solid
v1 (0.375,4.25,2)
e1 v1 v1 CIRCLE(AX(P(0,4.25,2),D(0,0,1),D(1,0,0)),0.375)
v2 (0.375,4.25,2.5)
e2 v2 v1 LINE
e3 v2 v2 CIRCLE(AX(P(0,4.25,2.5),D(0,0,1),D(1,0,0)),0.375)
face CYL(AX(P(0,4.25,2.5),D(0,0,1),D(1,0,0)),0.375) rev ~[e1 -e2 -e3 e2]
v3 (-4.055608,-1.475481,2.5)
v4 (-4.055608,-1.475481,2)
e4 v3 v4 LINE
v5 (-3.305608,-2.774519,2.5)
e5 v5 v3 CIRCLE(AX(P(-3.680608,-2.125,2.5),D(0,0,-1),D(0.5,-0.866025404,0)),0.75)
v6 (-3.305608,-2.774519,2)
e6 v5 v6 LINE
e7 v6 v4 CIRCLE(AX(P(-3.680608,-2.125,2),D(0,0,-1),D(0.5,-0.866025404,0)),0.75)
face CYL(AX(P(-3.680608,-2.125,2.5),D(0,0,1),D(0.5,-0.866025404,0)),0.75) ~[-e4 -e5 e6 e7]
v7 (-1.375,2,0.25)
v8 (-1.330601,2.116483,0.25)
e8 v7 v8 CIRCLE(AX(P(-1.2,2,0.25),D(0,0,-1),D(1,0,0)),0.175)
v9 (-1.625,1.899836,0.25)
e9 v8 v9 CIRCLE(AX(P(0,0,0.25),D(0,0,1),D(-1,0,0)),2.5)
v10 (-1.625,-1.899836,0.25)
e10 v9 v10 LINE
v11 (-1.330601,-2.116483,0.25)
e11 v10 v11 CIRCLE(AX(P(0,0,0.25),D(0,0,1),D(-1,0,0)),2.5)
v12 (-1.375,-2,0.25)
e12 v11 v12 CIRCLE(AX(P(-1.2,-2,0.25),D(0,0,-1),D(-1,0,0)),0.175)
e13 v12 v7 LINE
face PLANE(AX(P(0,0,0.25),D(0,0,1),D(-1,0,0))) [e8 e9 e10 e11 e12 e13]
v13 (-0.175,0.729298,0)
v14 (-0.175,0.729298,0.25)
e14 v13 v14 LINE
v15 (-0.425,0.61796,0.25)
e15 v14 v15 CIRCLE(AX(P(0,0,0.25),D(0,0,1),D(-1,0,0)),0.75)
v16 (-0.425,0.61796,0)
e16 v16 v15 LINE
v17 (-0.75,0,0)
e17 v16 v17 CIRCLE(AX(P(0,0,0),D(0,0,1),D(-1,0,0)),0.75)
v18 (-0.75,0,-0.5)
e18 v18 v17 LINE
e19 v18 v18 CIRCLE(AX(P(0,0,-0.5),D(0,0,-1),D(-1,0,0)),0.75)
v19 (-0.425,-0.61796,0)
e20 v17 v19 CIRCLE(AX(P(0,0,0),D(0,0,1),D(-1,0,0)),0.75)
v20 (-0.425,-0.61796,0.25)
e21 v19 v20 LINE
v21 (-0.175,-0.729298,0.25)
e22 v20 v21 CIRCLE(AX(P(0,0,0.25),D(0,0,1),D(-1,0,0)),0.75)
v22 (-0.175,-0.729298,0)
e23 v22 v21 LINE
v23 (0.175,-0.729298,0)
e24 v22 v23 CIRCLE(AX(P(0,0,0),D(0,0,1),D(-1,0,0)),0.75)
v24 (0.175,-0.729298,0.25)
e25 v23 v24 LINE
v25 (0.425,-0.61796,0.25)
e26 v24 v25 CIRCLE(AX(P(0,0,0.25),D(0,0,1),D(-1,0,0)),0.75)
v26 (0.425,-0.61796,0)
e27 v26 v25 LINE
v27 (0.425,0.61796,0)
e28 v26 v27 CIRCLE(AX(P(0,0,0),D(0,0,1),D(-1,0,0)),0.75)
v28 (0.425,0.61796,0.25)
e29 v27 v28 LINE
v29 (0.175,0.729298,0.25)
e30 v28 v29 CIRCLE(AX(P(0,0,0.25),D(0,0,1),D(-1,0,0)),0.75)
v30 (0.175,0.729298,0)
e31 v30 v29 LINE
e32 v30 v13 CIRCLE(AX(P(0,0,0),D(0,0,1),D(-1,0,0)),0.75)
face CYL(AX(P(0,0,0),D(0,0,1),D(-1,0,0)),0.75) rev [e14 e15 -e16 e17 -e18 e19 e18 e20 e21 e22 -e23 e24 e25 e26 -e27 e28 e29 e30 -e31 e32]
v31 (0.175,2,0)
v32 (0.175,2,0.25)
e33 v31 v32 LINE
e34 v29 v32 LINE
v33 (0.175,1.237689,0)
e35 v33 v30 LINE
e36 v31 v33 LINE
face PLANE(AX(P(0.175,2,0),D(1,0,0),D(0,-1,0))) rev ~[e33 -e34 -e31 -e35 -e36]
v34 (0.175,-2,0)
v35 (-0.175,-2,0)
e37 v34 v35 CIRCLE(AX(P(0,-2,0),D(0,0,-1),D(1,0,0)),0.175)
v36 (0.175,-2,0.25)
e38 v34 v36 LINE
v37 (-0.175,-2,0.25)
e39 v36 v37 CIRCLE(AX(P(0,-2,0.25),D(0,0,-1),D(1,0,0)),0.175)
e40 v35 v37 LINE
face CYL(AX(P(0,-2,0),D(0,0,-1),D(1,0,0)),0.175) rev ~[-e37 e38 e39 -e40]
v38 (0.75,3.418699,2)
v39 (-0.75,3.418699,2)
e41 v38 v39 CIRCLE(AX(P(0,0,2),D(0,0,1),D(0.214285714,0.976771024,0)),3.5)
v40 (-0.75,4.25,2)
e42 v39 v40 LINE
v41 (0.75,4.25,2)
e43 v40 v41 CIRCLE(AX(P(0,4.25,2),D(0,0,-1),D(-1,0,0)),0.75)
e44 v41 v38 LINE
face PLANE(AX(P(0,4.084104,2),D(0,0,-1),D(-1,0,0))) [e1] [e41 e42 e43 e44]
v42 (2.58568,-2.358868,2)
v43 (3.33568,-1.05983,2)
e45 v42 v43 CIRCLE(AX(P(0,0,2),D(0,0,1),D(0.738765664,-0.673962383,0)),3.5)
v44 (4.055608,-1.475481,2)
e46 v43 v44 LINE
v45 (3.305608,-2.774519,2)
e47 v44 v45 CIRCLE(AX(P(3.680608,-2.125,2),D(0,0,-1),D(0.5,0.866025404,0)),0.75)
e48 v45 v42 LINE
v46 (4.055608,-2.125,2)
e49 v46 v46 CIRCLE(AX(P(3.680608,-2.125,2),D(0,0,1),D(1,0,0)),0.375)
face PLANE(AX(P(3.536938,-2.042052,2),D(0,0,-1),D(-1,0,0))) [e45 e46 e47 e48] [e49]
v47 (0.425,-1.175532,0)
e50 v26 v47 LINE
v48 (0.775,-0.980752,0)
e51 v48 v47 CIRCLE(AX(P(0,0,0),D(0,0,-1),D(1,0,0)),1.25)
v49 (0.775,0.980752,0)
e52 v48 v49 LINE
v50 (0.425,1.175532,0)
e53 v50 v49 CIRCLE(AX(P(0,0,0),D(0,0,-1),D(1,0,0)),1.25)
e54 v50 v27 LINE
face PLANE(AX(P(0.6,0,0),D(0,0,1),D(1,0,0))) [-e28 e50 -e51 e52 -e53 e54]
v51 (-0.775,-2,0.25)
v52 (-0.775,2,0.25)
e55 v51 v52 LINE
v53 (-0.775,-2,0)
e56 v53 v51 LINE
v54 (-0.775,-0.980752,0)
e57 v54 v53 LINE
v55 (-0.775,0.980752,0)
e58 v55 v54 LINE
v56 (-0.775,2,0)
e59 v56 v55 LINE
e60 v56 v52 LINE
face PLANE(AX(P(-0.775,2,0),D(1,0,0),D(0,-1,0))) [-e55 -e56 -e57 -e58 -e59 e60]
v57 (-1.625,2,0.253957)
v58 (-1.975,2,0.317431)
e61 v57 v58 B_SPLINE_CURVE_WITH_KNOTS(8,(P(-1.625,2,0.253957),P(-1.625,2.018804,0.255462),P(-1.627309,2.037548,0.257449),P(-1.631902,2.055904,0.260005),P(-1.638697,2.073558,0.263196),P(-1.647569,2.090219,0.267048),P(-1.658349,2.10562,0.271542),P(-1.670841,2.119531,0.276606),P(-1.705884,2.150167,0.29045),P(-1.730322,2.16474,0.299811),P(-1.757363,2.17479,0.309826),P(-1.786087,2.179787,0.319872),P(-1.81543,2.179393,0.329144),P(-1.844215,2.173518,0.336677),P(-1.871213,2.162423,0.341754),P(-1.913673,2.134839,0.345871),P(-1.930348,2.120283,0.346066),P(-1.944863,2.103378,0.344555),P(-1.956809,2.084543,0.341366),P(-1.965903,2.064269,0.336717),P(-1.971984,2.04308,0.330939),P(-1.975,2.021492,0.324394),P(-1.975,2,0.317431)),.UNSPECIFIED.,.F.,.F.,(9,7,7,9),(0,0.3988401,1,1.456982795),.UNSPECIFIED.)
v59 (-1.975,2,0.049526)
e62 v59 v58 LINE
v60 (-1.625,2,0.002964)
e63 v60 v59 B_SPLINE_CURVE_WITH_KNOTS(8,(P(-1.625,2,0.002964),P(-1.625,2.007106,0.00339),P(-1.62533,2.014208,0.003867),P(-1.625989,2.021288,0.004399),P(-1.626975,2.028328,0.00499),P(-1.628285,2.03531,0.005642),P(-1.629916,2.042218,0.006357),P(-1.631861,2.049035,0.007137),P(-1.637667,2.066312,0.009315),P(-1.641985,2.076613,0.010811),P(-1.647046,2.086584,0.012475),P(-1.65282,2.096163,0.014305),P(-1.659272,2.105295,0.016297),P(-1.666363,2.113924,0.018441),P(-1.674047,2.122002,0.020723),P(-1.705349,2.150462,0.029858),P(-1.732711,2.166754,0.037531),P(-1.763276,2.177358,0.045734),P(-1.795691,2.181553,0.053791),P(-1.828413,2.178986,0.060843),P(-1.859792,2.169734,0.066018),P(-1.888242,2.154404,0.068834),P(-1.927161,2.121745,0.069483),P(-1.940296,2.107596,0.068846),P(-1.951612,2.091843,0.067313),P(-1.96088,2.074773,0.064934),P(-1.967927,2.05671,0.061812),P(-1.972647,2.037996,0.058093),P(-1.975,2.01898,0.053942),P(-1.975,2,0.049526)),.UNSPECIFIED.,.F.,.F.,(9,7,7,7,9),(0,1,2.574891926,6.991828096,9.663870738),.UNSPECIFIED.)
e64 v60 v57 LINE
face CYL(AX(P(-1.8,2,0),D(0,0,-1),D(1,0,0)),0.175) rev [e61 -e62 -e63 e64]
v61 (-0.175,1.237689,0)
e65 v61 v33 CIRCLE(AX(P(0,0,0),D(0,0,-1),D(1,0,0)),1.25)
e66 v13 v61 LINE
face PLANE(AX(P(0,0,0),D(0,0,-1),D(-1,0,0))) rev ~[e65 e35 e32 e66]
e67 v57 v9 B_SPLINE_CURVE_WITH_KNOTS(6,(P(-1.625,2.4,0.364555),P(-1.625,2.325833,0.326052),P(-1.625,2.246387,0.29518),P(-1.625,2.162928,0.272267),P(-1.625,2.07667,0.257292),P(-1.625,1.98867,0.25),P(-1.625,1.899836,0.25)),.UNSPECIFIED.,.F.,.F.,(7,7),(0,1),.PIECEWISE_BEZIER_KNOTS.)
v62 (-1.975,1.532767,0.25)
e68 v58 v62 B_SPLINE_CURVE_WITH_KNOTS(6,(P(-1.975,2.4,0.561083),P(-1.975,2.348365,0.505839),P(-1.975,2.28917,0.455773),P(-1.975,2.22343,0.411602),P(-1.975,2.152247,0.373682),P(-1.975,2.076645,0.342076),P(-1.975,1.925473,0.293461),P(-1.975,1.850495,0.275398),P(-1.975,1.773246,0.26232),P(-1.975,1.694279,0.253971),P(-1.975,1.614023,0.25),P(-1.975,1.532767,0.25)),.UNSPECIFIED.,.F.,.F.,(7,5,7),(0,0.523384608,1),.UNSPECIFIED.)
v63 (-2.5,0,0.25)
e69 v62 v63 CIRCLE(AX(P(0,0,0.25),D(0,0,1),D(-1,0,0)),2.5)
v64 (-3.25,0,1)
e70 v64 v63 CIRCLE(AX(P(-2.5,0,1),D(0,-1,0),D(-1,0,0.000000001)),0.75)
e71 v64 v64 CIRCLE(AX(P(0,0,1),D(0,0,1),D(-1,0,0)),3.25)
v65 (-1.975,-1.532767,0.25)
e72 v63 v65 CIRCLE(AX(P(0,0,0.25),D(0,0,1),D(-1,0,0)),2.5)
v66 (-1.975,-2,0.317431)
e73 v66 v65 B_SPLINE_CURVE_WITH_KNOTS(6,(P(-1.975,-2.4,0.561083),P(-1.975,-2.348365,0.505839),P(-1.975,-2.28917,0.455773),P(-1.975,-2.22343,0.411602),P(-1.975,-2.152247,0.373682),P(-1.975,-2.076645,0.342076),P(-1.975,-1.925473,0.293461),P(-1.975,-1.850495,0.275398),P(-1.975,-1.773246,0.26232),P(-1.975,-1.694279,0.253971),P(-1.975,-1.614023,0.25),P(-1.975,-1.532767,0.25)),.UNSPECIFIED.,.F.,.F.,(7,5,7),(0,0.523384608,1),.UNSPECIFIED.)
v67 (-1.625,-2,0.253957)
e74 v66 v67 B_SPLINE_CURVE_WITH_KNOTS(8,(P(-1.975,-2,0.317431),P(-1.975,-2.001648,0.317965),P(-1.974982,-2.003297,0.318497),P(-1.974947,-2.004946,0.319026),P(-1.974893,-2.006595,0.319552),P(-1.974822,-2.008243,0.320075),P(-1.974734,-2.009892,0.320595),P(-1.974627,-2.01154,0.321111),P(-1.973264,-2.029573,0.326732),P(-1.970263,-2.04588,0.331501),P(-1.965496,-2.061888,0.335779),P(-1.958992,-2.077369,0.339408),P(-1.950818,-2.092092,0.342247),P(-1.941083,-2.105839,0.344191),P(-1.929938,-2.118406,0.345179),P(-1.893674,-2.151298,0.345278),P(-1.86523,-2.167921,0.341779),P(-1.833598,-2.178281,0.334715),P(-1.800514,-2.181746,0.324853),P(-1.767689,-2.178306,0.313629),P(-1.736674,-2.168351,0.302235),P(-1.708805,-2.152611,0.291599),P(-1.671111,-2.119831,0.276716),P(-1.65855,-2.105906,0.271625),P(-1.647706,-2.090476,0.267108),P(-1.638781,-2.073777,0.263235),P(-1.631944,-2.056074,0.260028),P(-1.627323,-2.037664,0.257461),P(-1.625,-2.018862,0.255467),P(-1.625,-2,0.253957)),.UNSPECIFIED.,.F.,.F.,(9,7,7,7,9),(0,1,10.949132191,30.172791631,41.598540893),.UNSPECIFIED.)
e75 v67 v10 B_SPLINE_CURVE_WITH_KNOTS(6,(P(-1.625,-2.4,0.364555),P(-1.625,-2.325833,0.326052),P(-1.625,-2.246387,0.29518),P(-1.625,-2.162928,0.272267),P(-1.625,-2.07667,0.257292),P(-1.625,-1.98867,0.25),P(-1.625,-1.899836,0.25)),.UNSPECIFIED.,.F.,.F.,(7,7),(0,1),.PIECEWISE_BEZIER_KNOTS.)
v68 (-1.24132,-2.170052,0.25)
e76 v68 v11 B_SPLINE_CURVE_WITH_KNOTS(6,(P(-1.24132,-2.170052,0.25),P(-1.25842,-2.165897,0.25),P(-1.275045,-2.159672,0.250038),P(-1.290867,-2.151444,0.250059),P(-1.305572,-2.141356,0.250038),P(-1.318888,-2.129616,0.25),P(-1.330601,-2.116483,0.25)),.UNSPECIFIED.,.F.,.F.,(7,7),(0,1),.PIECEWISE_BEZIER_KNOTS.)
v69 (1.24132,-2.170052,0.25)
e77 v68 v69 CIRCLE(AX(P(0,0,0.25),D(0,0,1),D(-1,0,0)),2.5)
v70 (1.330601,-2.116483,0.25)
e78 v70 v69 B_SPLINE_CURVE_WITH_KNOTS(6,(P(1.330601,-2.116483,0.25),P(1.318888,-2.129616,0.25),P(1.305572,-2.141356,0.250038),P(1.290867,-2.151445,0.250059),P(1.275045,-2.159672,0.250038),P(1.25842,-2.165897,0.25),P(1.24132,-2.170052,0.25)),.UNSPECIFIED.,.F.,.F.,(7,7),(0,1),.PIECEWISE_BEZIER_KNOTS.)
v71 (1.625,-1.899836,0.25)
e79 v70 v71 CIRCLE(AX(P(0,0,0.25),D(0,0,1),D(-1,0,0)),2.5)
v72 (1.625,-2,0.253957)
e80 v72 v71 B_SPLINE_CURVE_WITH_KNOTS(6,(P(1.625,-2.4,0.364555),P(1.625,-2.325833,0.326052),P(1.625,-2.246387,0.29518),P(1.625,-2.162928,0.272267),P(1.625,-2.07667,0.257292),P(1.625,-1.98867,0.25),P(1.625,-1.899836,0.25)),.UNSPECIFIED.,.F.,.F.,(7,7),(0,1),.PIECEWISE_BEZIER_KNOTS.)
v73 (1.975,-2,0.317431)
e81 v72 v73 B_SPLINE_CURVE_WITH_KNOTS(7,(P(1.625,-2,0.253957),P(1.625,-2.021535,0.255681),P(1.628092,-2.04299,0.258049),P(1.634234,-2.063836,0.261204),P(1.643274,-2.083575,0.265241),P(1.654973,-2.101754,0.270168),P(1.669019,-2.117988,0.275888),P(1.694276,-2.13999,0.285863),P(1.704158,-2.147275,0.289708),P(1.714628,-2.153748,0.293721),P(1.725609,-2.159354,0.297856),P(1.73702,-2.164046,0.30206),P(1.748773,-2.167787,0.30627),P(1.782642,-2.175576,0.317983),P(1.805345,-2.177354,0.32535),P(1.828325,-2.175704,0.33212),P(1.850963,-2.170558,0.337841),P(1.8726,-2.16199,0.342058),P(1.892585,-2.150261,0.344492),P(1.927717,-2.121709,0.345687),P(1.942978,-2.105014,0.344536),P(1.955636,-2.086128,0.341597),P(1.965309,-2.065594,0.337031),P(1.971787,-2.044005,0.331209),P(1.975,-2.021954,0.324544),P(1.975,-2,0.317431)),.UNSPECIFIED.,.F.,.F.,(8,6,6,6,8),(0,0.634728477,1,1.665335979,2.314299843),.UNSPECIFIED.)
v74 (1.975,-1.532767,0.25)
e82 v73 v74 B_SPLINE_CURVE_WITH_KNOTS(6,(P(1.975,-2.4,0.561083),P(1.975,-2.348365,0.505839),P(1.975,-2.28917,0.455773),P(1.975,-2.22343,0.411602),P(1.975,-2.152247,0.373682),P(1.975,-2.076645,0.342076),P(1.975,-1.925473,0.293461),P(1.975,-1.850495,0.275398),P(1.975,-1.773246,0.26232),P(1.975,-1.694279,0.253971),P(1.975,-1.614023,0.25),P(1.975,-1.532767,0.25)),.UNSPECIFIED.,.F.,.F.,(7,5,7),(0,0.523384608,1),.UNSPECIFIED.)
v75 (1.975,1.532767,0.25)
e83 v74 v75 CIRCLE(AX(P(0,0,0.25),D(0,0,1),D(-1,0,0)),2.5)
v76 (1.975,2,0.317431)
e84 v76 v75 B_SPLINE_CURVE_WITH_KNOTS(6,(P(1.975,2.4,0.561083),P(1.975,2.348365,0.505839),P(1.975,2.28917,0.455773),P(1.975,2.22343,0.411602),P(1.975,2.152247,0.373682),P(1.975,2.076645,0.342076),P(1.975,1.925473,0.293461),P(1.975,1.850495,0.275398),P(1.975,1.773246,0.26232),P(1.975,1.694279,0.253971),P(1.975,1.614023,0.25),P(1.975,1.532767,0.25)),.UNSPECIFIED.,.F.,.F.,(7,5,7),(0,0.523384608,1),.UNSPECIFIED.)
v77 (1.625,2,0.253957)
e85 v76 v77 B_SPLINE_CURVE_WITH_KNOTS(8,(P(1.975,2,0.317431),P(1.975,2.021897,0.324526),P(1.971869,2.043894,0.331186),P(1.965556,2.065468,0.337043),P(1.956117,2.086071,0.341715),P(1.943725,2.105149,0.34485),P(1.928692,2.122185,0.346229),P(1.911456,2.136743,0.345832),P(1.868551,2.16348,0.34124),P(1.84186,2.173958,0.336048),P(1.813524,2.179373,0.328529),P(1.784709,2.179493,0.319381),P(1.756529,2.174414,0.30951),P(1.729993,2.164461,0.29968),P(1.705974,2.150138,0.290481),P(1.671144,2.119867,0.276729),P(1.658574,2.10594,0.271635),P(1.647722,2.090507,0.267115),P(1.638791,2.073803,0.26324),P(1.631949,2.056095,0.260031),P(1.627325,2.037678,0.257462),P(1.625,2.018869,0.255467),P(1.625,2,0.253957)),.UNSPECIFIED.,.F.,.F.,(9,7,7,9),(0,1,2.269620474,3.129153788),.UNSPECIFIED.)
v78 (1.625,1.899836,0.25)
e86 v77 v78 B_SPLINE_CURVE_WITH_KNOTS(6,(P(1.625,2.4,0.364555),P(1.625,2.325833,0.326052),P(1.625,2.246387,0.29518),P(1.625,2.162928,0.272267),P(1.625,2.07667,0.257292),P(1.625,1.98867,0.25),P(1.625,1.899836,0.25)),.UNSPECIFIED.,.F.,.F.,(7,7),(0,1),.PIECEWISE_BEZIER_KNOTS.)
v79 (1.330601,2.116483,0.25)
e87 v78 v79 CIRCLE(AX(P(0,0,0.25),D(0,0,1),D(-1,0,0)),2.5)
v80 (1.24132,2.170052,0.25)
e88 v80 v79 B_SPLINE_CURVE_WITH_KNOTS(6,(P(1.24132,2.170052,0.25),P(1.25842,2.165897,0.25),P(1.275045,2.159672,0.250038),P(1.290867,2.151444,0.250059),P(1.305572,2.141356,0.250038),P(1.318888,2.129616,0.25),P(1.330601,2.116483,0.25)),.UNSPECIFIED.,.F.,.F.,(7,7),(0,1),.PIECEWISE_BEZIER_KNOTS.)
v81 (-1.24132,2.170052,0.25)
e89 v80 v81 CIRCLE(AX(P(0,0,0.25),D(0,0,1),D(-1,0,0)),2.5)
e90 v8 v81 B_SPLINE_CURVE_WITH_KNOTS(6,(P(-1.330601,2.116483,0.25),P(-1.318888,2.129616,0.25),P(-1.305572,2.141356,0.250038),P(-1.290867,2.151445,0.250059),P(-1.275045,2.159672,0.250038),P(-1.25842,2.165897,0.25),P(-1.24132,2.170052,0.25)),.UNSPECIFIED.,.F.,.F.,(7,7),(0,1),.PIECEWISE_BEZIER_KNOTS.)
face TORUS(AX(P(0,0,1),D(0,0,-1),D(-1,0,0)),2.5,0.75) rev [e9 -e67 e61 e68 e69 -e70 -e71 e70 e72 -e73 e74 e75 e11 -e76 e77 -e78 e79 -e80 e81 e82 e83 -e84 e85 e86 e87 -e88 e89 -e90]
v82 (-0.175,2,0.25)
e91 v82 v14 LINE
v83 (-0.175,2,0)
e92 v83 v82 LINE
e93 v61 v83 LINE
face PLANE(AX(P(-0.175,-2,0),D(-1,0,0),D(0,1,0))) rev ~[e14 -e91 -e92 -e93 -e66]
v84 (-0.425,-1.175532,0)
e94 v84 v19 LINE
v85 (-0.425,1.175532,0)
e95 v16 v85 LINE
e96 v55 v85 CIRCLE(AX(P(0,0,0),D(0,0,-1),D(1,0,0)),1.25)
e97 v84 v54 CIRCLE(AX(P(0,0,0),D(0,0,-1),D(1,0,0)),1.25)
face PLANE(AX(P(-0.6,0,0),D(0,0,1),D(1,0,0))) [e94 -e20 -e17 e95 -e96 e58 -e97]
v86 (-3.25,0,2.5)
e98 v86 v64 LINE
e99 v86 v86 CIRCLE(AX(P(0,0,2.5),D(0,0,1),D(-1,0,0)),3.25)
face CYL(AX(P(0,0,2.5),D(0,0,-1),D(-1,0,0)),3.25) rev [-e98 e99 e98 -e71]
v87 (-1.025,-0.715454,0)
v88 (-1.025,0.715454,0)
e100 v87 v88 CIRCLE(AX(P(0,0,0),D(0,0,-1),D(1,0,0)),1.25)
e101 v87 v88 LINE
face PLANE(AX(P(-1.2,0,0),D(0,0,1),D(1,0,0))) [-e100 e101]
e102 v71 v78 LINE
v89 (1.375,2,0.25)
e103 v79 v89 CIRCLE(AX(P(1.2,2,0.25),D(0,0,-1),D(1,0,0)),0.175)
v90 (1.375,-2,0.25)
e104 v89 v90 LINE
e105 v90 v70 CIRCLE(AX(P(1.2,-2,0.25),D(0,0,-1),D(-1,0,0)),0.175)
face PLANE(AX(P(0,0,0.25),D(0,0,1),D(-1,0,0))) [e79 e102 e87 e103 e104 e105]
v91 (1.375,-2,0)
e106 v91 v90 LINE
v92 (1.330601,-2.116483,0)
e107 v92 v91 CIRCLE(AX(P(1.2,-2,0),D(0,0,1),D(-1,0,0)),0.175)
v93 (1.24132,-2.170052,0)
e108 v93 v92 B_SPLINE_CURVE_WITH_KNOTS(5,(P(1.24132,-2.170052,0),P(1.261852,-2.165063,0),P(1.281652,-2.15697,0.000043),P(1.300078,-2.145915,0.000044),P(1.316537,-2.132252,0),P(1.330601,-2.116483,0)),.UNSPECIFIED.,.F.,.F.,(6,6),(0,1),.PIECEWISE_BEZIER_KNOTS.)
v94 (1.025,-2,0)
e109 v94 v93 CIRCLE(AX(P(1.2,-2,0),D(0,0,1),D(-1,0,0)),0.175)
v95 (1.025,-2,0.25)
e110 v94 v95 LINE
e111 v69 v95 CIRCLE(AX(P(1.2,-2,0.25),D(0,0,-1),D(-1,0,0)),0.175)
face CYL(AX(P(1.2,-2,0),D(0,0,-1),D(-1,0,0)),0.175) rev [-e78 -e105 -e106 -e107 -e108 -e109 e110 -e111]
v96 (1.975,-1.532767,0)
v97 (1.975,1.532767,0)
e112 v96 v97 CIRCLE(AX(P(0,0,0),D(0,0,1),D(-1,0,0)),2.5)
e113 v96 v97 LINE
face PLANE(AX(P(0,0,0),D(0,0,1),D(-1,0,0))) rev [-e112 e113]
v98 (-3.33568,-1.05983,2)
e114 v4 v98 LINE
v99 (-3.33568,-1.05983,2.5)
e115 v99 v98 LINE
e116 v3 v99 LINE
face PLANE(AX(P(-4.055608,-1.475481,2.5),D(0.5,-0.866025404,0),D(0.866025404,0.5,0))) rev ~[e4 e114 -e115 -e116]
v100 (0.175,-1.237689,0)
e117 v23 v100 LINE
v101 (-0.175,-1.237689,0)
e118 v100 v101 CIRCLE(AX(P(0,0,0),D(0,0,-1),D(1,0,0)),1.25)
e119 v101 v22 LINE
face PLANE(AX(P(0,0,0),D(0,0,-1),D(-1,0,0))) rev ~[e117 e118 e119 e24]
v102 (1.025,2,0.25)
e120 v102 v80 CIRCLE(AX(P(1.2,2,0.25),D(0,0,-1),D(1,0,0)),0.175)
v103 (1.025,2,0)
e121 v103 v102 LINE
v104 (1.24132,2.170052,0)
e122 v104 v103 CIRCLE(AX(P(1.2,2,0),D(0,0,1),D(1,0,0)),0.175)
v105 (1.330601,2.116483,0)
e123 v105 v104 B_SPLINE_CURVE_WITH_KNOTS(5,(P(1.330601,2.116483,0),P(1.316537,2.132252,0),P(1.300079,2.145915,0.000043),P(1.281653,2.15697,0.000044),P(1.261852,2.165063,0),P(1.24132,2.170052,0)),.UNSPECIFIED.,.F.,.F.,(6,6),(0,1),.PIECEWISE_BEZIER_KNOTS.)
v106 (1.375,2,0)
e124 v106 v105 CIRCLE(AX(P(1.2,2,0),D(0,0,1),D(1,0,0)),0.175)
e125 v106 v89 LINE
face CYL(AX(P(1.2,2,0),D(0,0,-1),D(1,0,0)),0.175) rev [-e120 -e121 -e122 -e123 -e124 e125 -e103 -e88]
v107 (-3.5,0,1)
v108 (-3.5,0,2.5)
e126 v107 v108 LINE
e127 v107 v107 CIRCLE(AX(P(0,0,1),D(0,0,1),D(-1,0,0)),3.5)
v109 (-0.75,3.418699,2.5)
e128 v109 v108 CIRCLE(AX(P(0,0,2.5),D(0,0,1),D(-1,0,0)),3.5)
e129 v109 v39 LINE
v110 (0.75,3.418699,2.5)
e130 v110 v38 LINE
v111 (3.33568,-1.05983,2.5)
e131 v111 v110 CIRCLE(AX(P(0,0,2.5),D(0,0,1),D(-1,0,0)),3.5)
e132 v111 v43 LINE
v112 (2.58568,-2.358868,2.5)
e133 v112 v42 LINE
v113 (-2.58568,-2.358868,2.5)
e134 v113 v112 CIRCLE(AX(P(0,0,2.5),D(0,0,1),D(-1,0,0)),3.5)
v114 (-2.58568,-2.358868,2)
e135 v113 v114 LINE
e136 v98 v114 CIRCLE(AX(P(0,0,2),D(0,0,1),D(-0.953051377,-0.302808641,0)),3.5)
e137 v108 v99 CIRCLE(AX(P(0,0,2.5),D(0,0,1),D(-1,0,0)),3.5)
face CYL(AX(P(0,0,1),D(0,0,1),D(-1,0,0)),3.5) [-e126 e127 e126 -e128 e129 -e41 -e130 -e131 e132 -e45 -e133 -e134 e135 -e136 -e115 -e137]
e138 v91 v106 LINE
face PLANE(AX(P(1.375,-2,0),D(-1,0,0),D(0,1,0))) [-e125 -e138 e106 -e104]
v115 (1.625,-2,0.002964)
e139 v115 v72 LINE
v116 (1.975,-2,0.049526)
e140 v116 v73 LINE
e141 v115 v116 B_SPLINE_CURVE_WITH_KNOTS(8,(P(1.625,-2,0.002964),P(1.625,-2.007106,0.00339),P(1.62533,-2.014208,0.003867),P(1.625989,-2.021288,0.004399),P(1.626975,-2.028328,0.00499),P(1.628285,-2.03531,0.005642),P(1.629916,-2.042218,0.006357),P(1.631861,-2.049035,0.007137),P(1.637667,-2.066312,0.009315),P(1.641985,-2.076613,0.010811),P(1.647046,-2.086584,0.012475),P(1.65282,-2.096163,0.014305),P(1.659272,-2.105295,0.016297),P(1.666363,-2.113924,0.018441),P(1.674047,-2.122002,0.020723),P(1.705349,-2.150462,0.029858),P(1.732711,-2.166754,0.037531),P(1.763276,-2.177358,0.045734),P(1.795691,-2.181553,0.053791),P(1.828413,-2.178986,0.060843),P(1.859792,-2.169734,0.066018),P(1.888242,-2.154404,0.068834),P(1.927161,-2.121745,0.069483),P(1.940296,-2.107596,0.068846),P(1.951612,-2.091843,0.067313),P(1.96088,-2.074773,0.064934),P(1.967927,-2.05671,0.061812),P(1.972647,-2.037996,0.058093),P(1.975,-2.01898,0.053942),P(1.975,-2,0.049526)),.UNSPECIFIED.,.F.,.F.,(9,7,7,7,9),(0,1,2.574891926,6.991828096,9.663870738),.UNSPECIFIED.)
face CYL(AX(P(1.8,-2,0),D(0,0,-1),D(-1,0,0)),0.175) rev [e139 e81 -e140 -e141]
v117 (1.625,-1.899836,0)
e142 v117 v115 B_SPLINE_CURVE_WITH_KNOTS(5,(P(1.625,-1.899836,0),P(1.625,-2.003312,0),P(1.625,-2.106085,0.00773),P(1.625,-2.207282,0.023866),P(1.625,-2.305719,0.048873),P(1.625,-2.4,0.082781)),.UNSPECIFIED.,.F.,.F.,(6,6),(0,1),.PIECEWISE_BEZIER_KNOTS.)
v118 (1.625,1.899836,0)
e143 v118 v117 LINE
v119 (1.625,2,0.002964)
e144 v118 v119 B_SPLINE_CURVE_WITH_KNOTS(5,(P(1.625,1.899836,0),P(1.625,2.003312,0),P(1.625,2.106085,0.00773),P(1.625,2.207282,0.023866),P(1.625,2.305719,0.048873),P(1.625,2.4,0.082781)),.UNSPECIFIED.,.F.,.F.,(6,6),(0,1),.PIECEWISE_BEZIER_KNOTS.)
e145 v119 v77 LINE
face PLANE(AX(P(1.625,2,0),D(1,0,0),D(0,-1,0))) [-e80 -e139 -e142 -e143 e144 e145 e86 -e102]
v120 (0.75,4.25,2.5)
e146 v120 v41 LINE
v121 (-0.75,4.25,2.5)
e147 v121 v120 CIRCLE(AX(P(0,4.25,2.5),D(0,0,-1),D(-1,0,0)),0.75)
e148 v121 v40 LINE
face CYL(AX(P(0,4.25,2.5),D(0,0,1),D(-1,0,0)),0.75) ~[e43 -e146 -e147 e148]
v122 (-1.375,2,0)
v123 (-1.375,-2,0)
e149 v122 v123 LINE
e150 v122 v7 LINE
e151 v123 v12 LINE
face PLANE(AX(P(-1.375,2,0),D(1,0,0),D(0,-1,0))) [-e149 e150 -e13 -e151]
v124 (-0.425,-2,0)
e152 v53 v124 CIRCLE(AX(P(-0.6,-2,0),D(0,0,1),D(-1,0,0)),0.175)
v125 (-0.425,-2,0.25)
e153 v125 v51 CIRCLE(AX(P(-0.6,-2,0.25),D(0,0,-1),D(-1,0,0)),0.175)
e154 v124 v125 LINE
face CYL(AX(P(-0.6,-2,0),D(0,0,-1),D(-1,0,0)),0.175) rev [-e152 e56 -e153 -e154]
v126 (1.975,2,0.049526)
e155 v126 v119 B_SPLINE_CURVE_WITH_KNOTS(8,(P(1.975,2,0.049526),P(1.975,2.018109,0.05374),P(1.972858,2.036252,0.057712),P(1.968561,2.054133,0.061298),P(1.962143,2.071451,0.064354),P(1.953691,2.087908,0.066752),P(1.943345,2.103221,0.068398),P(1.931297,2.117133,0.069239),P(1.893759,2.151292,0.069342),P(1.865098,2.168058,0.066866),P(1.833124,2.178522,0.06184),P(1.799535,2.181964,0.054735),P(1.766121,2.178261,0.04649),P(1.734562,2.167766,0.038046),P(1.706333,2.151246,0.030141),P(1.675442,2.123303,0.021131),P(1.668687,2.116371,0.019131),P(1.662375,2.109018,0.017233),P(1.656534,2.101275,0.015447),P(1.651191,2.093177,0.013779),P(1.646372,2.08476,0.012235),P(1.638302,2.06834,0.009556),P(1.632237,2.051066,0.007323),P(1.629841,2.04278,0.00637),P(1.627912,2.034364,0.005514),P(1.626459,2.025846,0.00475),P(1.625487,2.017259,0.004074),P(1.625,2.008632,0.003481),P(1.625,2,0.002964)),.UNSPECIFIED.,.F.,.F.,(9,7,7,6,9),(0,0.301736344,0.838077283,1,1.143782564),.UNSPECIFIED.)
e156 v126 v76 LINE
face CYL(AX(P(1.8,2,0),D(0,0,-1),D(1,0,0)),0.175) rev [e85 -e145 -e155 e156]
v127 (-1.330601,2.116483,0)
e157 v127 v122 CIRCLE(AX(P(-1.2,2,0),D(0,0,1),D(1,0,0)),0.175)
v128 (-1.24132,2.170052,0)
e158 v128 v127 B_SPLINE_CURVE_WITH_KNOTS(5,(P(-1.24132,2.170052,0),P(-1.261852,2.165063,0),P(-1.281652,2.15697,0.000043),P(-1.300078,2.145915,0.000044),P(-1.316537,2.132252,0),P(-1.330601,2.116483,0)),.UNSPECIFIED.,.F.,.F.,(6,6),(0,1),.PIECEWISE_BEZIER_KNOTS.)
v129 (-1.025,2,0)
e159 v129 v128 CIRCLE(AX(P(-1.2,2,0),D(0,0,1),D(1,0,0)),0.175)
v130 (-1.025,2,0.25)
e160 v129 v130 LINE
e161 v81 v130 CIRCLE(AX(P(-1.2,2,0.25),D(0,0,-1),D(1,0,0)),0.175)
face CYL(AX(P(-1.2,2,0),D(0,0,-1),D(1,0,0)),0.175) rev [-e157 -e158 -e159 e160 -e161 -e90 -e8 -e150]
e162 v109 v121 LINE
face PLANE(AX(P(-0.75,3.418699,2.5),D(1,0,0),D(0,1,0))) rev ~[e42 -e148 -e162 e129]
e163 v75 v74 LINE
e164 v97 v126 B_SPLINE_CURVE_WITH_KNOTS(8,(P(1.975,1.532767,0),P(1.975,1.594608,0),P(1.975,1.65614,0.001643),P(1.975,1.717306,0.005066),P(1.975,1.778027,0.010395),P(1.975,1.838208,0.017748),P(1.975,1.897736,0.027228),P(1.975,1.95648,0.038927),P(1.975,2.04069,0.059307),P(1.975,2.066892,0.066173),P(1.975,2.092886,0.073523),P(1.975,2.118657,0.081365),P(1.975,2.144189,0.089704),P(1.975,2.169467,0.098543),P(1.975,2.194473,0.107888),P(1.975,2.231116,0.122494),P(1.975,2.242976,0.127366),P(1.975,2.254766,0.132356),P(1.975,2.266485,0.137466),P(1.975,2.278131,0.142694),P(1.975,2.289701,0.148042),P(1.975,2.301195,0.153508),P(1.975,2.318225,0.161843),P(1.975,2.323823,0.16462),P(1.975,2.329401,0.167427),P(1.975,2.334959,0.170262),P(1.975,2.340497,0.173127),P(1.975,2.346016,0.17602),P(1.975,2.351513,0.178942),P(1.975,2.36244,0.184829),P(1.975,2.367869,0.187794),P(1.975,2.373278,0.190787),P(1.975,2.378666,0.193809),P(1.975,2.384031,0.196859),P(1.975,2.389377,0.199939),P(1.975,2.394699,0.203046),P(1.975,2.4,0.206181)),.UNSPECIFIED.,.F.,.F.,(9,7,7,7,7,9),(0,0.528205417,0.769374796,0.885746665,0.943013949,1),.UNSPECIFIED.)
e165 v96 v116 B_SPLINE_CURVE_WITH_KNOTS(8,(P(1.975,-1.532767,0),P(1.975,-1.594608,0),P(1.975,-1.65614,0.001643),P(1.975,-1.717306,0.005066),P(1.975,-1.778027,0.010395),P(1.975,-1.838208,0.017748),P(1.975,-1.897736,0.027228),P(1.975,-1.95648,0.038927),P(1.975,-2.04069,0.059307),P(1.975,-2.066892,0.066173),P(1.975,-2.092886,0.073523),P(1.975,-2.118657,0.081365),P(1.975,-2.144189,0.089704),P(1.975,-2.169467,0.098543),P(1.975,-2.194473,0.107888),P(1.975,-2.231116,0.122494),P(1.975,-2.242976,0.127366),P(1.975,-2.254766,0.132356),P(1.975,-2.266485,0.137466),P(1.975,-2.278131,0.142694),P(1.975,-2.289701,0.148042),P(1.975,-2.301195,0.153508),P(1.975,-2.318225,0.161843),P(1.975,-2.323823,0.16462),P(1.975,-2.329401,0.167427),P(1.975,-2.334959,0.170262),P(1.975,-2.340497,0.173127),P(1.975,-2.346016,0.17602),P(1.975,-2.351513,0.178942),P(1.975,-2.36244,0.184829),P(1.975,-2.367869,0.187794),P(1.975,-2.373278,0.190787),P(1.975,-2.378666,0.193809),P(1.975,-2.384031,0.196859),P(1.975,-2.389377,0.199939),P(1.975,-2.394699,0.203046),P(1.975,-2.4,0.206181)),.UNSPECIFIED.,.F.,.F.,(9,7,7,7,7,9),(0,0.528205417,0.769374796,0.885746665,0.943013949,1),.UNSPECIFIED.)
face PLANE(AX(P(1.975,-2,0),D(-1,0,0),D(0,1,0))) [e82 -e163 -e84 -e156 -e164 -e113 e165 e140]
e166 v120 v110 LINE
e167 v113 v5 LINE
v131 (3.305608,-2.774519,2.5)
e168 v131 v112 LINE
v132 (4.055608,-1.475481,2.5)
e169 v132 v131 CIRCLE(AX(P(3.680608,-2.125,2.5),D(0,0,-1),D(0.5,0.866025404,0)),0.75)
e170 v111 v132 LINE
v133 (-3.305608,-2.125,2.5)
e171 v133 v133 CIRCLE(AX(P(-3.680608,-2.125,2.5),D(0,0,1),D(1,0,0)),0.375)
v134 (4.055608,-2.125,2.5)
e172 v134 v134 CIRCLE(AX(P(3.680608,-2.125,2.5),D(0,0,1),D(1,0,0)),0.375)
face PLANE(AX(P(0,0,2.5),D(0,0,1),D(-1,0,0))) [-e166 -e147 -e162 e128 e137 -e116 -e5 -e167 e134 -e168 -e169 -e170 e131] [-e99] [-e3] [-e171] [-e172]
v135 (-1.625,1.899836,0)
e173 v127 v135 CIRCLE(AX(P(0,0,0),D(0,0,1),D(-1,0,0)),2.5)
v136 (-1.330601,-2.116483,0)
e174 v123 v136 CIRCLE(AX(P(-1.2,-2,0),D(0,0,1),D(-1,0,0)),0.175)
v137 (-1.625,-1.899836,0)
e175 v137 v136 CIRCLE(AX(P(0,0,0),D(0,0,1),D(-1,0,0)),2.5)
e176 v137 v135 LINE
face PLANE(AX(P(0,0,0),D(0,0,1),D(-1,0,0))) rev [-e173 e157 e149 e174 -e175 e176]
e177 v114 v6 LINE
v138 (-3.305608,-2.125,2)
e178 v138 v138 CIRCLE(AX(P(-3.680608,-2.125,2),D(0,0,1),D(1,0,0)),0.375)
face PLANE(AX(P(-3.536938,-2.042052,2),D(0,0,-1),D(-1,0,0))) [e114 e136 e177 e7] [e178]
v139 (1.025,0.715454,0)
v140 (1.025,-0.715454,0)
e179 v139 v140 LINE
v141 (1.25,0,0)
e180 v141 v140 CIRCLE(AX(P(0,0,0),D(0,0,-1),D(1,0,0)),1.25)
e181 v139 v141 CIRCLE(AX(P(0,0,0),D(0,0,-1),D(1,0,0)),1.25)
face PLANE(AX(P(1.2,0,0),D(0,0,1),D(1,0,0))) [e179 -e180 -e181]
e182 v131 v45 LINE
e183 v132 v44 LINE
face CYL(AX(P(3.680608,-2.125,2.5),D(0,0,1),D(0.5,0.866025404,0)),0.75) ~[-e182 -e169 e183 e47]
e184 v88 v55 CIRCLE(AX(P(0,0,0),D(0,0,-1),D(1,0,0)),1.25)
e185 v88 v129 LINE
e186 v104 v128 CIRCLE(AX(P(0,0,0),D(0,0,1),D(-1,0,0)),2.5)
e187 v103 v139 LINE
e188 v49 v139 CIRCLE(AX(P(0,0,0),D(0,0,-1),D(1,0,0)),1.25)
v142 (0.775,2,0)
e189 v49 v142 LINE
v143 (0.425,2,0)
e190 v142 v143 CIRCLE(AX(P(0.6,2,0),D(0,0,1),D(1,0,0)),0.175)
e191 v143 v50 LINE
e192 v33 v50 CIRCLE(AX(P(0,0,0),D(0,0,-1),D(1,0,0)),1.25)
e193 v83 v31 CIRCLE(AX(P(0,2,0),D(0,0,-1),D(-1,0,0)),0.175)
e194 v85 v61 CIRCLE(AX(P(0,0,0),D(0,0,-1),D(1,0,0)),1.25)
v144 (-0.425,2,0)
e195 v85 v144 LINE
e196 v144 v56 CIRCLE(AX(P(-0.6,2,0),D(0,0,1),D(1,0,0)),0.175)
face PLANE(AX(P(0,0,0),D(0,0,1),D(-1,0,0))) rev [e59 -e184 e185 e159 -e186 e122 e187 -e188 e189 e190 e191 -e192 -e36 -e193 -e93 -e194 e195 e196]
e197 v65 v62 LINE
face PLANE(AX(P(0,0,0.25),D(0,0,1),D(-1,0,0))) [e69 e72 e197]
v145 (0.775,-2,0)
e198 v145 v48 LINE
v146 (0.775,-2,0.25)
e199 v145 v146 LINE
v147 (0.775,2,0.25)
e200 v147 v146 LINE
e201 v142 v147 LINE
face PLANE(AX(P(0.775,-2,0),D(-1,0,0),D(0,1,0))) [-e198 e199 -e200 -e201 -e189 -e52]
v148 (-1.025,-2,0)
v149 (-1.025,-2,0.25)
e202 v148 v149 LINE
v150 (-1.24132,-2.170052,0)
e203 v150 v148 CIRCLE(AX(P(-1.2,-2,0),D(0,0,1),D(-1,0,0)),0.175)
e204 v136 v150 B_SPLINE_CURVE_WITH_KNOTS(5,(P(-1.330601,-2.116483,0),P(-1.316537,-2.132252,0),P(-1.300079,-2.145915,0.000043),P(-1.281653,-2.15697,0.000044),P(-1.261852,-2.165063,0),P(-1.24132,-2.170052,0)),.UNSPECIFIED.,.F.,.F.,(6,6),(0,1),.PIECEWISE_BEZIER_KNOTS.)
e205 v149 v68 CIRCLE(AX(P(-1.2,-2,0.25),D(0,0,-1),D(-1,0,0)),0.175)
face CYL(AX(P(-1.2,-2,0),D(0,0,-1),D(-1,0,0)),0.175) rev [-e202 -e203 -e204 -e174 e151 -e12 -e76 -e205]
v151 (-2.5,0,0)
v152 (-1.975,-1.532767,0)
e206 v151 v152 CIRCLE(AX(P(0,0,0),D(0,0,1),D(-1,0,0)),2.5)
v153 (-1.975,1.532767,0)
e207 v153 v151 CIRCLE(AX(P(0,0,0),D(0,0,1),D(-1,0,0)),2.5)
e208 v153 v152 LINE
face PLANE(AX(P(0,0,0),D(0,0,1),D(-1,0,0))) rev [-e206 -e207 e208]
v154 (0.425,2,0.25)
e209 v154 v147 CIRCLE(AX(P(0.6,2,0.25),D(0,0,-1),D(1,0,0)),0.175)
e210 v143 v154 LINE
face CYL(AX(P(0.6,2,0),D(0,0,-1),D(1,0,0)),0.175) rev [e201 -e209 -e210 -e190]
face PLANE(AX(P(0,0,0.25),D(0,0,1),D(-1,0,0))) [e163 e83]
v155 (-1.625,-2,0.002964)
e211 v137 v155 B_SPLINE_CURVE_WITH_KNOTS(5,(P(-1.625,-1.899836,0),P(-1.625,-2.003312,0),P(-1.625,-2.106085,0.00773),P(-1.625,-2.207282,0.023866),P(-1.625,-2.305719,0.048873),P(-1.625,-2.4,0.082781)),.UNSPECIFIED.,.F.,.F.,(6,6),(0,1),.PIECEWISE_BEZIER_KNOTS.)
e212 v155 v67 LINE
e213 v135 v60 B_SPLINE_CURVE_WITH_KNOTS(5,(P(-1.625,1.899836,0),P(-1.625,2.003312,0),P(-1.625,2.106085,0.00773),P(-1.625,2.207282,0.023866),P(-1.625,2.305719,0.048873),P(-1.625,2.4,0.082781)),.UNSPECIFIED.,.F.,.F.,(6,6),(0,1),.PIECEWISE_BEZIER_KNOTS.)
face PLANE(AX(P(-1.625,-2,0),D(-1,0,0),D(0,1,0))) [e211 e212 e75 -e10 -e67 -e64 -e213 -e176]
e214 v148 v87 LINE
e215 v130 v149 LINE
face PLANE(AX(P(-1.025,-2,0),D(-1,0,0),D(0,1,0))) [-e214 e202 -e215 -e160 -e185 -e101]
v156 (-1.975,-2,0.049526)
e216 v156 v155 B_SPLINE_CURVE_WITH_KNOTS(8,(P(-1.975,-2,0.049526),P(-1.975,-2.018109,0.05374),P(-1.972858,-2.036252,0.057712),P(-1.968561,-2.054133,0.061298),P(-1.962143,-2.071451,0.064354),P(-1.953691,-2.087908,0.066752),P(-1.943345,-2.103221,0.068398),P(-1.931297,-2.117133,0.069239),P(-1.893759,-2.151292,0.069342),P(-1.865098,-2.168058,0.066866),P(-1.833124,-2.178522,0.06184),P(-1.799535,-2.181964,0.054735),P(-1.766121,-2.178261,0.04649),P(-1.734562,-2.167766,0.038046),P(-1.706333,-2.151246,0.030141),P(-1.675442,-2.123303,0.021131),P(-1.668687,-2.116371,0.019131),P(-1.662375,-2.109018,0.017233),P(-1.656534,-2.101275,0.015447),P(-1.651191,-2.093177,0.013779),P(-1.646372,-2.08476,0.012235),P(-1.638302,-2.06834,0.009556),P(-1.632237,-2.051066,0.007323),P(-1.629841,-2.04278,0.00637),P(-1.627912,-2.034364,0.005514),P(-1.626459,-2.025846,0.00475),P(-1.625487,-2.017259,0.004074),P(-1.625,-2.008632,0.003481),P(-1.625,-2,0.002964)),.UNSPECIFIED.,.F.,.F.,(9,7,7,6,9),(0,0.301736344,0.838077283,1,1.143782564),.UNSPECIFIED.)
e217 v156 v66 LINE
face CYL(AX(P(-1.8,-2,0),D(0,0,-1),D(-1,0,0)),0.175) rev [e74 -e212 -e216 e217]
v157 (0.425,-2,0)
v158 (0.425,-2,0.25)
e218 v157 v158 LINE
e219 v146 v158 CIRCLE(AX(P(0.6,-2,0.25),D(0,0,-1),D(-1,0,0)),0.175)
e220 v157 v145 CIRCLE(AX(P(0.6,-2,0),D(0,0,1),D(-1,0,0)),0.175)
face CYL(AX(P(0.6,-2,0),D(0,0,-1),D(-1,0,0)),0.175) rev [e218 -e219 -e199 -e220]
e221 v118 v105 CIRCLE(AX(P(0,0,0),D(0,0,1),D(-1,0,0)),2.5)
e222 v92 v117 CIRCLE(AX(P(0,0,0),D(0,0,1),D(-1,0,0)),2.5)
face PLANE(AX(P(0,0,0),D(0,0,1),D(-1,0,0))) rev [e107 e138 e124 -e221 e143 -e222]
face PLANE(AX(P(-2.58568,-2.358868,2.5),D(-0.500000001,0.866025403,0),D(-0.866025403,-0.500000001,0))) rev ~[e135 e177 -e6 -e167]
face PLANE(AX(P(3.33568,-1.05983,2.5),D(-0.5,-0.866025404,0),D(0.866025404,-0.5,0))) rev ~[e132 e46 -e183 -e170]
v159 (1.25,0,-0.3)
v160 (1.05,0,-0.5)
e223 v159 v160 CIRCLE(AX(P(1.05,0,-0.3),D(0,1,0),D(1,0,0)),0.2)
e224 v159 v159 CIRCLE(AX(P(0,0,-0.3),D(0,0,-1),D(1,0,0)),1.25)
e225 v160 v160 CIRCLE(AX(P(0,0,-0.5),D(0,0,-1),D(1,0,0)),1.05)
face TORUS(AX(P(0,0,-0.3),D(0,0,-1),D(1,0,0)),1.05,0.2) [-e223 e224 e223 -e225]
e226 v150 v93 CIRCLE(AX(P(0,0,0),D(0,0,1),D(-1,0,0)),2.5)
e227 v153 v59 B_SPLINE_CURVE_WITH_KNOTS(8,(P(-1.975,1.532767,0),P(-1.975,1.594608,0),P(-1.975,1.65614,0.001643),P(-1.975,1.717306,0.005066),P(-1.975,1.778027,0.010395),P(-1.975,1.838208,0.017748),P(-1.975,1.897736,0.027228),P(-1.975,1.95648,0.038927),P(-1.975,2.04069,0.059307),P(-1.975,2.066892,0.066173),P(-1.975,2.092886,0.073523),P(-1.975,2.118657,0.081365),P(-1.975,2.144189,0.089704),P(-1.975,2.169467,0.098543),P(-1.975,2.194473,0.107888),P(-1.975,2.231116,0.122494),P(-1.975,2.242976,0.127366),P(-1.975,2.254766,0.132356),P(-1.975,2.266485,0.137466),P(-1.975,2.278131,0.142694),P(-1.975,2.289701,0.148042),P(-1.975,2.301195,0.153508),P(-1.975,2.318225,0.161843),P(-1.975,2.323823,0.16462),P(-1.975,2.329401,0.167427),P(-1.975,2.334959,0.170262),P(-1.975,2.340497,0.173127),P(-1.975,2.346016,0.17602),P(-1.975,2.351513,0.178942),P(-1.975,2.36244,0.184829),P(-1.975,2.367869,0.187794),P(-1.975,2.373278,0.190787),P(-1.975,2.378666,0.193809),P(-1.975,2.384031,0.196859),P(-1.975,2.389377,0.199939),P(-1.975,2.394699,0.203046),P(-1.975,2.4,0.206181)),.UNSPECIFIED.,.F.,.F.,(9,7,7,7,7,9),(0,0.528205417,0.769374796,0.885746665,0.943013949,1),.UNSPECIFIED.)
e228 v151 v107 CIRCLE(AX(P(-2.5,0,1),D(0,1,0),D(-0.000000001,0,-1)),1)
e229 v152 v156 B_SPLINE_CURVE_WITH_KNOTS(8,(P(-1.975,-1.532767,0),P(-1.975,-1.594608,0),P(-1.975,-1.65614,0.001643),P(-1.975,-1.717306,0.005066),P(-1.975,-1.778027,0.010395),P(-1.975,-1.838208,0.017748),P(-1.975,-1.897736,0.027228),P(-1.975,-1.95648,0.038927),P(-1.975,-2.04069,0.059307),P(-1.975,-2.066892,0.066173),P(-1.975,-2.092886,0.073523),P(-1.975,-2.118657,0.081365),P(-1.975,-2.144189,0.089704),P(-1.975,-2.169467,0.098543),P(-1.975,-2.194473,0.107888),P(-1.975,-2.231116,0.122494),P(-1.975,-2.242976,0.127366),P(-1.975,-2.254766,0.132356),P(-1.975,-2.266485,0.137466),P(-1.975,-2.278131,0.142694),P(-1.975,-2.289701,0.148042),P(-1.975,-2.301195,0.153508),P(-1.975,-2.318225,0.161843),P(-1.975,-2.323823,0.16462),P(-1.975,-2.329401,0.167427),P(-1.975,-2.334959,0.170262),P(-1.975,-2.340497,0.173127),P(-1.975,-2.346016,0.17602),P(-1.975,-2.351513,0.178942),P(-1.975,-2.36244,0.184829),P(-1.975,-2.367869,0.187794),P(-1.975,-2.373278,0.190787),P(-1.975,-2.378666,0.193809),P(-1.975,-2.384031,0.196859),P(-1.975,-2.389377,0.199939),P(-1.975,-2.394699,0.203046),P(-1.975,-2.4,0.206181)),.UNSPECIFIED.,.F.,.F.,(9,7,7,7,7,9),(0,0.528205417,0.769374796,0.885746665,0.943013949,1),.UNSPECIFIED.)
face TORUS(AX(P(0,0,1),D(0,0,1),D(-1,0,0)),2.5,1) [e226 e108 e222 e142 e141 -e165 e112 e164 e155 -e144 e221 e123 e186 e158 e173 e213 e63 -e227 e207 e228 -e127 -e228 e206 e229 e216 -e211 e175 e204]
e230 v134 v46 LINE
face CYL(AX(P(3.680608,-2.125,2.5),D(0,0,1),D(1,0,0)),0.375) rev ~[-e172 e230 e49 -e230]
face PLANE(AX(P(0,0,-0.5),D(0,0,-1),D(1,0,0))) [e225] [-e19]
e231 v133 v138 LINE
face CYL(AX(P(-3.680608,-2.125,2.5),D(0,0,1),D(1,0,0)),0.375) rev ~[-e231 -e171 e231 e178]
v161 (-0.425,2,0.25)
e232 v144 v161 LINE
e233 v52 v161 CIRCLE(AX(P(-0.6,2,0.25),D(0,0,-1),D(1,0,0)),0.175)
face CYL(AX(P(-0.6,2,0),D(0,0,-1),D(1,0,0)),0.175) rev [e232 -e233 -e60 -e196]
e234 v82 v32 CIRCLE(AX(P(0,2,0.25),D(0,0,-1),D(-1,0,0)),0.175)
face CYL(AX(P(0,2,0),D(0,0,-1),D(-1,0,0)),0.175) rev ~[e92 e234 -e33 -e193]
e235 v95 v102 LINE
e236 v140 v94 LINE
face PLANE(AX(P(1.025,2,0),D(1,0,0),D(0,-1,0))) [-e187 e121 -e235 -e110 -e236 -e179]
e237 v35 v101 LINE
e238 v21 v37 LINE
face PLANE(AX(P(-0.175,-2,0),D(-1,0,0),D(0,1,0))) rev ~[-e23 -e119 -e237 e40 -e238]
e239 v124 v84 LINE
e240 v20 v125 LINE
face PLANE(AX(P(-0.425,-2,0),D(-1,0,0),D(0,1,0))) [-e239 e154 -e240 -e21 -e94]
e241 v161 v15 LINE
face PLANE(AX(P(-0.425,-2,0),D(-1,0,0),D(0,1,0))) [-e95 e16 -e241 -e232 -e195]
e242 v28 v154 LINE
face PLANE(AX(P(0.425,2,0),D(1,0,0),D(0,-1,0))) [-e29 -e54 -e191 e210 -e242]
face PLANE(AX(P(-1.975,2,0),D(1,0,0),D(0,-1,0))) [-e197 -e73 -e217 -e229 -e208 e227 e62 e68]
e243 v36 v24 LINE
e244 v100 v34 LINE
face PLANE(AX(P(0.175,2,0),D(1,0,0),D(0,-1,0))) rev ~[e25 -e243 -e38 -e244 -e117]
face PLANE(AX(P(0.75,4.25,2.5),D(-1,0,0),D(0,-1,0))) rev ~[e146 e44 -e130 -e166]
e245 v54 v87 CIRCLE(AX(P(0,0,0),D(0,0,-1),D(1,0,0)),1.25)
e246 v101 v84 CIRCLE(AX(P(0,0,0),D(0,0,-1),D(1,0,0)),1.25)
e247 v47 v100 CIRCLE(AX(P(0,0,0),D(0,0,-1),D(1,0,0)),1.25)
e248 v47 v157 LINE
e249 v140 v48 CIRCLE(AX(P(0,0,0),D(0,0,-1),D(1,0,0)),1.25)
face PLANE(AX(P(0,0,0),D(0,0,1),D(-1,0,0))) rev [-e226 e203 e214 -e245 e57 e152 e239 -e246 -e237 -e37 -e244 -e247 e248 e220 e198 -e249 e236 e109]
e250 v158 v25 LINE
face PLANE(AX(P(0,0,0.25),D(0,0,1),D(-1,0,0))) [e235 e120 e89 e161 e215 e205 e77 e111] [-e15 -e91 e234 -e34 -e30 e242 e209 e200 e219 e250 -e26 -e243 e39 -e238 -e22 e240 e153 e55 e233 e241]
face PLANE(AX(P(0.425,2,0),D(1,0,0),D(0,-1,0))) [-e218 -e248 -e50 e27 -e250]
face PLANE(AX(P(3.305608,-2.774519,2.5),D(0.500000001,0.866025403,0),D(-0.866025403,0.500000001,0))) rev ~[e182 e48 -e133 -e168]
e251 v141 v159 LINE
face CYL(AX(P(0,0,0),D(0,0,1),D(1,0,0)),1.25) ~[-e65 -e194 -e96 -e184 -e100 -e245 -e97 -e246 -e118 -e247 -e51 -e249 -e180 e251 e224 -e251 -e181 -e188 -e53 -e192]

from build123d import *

# Parameters (mm, degrees)
SKETCH2_R           = 1.25
SKETCH2_R_2         = 0.75
BOSS_EXTRUDE1_DEPTH = 0.5
CUT_EXTRUDE1_START  = -0.5
SKETCH3_R           = 0.75
CUT_EXTRUDE1_DEPTH  = 0.5
FILLET4_R           = 0.2
SKETCH4_R           = 0.375
BOSS_EXTRUDE2_DEPTH = 0.5
CUT_EXTRUDE3_DEPTH  = 8.133041914


with BuildPart() as part:
    # Sketch1 → Revolve1 (revolve)
    with BuildSketch(Plane(origin=(0, 0, 0), x_dir=(1, 0, 0), z_dir=(0, 1, 0)), mode=Mode.PRIVATE) as revolve1_sk:
        with BuildLine():
            Line((0, 0), (2.5, 0))
            ThreePointArc((2.5, 0), (3.207106781, -0.292893219), (3.5, -1))
            Line((3.5, -1), (3.5, -2.5))
            Line((3.5, -2.5), (3.25, -2.5))
            Line((3.25, -2.5), (3.25, -1))
            ThreePointArc((3.25, -1), (3.030330086, -0.469669914), (2.5, -0.25))
            Line((2.5, -0.25), (0, -0.25))
            Line((0, -0.25), (0, 0))
        make_face()
    revolve(revolve1_sk.sketch.rotate(Axis((0, 0, -4.115506763), (0, 0, 1)), 180), axis=Axis((0, 0, -4.115506763), (0, 0, 1)))

    # Sketch2 → Boss-Extrude1 (add)
    with BuildSketch(Plane(origin=(0, 0, 0), x_dir=(-1, 0, 0), z_dir=(0, 0, -1))):
        with Locations(Location((0, 0, 0), (0, 0, 180))):
            Circle(SKETCH2_R)
        Circle(SKETCH2_R_2, mode=Mode.SUBTRACT)
    extrude(amount=BOSS_EXTRUDE1_DEPTH)

    # Sketch3 → Cut-Extrude1 (cut)
    with BuildSketch(Plane(origin=(0, 0, 0), x_dir=(-1, 0, 0), z_dir=(0, 0, -1)).offset(CUT_EXTRUDE1_START)):
        Circle(SKETCH3_R)
    extrude(amount=CUT_EXTRUDE1_DEPTH, mode=Mode.SUBTRACT)

    # Fillet4
    fillet4_edges = [part.edges().sort_by_distance(p)[0] for p in [
        (-1.25, 0, -0.5),
    ]]
    fillet(fillet4_edges, radius=FILLET4_R)

    # Sketch4 → Boss-Extrude2 (add)
    # profile 1 of 3: a face of its own
    with BuildSketch(Plane.XY.offset(2.5)):
        with BuildLine():
            Line((0.75, 4.25), (0.75, 3.418698583))
            ThreePointArc((0.75, 3.418698583), (0, 3.5), (-0.75, 3.418698583))
            Line((-0.75, 3.418698583), (-0.75, 4.25))
            ThreePointArc((-0.75, 4.25), (0, 5), (0.75, 4.25))
        make_face()
        with Locations((0, 4.25)):
            Circle(SKETCH4_R, mode=Mode.SUBTRACT)
    # profile 2 of 3: a face of its own
    with BuildSketch(Plane.XY.offset(2.5)):
        with BuildLine():
            Line((3.305607966, -2.774519053), (2.585679821, -2.358868344))
            ThreePointArc((2.585679821, -2.358868344), (3.031088913, -1.75), (3.335679821, -1.059830239))
            Line((3.335679821, -1.059830239), (4.055607966, -1.475480947))
            ThreePointArc((4.055607966, -1.475480947), (4.330127019, -2.5), (3.305607966, -2.774519053))
        make_face()
        with Locations((3.680607966, -2.125)):
            Circle(SKETCH4_R, mode=Mode.SUBTRACT)
    # profile 3 of 3: a face of its own
    with BuildSketch(Plane.XY.offset(2.5)):
        with BuildLine():
            Line((-4.055607966, -1.475480947), (-3.335679821, -1.059830239))
            ThreePointArc((-3.335679821, -1.059830239), (-3.031088913, -1.75), (-2.585679821, -2.358868344))
            Line((-2.585679821, -2.358868344), (-3.305607966, -2.774519053))
            ThreePointArc((-3.305607966, -2.774519053), (-4.330127019, -2.5), (-4.055607966, -1.475480947))
        make_face()
        with Locations((-3.680607966, -2.125)):
            Circle(SKETCH4_R, mode=Mode.SUBTRACT)
    extrude(amount=-BOSS_EXTRUDE2_DEPTH)

    # Sketch5 → Cut-Extrude3 (cut, through all)
    with BuildSketch(Plane(origin=(0, 0, 0), x_dir=(-1, 0, 0), z_dir=(0, 0, -1))):
        with BuildLine():
            Line((-0.175, 2), (-0.175, -2))
            ThreePointArc((-0.175, -2), (0, -2.175), (0.175, -2))
            Line((0.175, -2), (0.175, 2))
            ThreePointArc((0.175, 2), (0, 2.175), (-0.175, 2))
        make_face()
        with BuildLine():
            Line((0.775, 2), (0.775, -2))
            ThreePointArc((0.775, -2), (0.6, -2.175), (0.425, -2))
            Line((0.425, -2), (0.425, 2))
            ThreePointArc((0.425, 2), (0.6, 2.175), (0.775, 2))
        make_face()
        with BuildLine():
            Line((1.375, 2), (1.375, -2))
            ThreePointArc((1.375, -2), (1.2, -2.175), (1.025, -2))
            Line((1.025, -2), (1.025, 2))
            ThreePointArc((1.025, 2), (1.2, 2.175), (1.375, 2))
        make_face()
        with BuildLine():
            Line((1.975, 2), (1.975, -2))
            ThreePointArc((1.975, -2), (1.8, -2.175), (1.625, -2))
            Line((1.625, -2), (1.625, 2))
            ThreePointArc((1.625, 2), (1.8, 2.175), (1.975, 2))
        make_face()
        with BuildLine():
            Line((-0.425, 2), (-0.425, -2))
            ThreePointArc((-0.425, -2), (-0.6, -2.175), (-0.775, -2))
            Line((-0.775, -2), (-0.775, 2))
            ThreePointArc((-0.775, 2), (-0.6, 2.175), (-0.425, 2))
        make_face()
        with BuildLine():
            Line((-1.025, 2), (-1.025, -2))
            ThreePointArc((-1.025, -2), (-1.2, -2.175), (-1.375, -2))
            Line((-1.375, -2), (-1.375, 2))
            ThreePointArc((-1.375, 2), (-1.2, 2.175), (-1.025, 2))
        make_face()
        with BuildLine():
            Line((-1.625, 2), (-1.625, -2))
            ThreePointArc((-1.625, -2), (-1.8, -2.175), (-1.975, -2))
            Line((-1.975, -2), (-1.975, 2))
            ThreePointArc((-1.975, 2), (-1.8, 2.175), (-1.625, 2))
        make_face()
    extrude(amount=-CUT_EXTRUDE3_DEPTH, mode=Mode.SUBTRACT)


solid = part.part
